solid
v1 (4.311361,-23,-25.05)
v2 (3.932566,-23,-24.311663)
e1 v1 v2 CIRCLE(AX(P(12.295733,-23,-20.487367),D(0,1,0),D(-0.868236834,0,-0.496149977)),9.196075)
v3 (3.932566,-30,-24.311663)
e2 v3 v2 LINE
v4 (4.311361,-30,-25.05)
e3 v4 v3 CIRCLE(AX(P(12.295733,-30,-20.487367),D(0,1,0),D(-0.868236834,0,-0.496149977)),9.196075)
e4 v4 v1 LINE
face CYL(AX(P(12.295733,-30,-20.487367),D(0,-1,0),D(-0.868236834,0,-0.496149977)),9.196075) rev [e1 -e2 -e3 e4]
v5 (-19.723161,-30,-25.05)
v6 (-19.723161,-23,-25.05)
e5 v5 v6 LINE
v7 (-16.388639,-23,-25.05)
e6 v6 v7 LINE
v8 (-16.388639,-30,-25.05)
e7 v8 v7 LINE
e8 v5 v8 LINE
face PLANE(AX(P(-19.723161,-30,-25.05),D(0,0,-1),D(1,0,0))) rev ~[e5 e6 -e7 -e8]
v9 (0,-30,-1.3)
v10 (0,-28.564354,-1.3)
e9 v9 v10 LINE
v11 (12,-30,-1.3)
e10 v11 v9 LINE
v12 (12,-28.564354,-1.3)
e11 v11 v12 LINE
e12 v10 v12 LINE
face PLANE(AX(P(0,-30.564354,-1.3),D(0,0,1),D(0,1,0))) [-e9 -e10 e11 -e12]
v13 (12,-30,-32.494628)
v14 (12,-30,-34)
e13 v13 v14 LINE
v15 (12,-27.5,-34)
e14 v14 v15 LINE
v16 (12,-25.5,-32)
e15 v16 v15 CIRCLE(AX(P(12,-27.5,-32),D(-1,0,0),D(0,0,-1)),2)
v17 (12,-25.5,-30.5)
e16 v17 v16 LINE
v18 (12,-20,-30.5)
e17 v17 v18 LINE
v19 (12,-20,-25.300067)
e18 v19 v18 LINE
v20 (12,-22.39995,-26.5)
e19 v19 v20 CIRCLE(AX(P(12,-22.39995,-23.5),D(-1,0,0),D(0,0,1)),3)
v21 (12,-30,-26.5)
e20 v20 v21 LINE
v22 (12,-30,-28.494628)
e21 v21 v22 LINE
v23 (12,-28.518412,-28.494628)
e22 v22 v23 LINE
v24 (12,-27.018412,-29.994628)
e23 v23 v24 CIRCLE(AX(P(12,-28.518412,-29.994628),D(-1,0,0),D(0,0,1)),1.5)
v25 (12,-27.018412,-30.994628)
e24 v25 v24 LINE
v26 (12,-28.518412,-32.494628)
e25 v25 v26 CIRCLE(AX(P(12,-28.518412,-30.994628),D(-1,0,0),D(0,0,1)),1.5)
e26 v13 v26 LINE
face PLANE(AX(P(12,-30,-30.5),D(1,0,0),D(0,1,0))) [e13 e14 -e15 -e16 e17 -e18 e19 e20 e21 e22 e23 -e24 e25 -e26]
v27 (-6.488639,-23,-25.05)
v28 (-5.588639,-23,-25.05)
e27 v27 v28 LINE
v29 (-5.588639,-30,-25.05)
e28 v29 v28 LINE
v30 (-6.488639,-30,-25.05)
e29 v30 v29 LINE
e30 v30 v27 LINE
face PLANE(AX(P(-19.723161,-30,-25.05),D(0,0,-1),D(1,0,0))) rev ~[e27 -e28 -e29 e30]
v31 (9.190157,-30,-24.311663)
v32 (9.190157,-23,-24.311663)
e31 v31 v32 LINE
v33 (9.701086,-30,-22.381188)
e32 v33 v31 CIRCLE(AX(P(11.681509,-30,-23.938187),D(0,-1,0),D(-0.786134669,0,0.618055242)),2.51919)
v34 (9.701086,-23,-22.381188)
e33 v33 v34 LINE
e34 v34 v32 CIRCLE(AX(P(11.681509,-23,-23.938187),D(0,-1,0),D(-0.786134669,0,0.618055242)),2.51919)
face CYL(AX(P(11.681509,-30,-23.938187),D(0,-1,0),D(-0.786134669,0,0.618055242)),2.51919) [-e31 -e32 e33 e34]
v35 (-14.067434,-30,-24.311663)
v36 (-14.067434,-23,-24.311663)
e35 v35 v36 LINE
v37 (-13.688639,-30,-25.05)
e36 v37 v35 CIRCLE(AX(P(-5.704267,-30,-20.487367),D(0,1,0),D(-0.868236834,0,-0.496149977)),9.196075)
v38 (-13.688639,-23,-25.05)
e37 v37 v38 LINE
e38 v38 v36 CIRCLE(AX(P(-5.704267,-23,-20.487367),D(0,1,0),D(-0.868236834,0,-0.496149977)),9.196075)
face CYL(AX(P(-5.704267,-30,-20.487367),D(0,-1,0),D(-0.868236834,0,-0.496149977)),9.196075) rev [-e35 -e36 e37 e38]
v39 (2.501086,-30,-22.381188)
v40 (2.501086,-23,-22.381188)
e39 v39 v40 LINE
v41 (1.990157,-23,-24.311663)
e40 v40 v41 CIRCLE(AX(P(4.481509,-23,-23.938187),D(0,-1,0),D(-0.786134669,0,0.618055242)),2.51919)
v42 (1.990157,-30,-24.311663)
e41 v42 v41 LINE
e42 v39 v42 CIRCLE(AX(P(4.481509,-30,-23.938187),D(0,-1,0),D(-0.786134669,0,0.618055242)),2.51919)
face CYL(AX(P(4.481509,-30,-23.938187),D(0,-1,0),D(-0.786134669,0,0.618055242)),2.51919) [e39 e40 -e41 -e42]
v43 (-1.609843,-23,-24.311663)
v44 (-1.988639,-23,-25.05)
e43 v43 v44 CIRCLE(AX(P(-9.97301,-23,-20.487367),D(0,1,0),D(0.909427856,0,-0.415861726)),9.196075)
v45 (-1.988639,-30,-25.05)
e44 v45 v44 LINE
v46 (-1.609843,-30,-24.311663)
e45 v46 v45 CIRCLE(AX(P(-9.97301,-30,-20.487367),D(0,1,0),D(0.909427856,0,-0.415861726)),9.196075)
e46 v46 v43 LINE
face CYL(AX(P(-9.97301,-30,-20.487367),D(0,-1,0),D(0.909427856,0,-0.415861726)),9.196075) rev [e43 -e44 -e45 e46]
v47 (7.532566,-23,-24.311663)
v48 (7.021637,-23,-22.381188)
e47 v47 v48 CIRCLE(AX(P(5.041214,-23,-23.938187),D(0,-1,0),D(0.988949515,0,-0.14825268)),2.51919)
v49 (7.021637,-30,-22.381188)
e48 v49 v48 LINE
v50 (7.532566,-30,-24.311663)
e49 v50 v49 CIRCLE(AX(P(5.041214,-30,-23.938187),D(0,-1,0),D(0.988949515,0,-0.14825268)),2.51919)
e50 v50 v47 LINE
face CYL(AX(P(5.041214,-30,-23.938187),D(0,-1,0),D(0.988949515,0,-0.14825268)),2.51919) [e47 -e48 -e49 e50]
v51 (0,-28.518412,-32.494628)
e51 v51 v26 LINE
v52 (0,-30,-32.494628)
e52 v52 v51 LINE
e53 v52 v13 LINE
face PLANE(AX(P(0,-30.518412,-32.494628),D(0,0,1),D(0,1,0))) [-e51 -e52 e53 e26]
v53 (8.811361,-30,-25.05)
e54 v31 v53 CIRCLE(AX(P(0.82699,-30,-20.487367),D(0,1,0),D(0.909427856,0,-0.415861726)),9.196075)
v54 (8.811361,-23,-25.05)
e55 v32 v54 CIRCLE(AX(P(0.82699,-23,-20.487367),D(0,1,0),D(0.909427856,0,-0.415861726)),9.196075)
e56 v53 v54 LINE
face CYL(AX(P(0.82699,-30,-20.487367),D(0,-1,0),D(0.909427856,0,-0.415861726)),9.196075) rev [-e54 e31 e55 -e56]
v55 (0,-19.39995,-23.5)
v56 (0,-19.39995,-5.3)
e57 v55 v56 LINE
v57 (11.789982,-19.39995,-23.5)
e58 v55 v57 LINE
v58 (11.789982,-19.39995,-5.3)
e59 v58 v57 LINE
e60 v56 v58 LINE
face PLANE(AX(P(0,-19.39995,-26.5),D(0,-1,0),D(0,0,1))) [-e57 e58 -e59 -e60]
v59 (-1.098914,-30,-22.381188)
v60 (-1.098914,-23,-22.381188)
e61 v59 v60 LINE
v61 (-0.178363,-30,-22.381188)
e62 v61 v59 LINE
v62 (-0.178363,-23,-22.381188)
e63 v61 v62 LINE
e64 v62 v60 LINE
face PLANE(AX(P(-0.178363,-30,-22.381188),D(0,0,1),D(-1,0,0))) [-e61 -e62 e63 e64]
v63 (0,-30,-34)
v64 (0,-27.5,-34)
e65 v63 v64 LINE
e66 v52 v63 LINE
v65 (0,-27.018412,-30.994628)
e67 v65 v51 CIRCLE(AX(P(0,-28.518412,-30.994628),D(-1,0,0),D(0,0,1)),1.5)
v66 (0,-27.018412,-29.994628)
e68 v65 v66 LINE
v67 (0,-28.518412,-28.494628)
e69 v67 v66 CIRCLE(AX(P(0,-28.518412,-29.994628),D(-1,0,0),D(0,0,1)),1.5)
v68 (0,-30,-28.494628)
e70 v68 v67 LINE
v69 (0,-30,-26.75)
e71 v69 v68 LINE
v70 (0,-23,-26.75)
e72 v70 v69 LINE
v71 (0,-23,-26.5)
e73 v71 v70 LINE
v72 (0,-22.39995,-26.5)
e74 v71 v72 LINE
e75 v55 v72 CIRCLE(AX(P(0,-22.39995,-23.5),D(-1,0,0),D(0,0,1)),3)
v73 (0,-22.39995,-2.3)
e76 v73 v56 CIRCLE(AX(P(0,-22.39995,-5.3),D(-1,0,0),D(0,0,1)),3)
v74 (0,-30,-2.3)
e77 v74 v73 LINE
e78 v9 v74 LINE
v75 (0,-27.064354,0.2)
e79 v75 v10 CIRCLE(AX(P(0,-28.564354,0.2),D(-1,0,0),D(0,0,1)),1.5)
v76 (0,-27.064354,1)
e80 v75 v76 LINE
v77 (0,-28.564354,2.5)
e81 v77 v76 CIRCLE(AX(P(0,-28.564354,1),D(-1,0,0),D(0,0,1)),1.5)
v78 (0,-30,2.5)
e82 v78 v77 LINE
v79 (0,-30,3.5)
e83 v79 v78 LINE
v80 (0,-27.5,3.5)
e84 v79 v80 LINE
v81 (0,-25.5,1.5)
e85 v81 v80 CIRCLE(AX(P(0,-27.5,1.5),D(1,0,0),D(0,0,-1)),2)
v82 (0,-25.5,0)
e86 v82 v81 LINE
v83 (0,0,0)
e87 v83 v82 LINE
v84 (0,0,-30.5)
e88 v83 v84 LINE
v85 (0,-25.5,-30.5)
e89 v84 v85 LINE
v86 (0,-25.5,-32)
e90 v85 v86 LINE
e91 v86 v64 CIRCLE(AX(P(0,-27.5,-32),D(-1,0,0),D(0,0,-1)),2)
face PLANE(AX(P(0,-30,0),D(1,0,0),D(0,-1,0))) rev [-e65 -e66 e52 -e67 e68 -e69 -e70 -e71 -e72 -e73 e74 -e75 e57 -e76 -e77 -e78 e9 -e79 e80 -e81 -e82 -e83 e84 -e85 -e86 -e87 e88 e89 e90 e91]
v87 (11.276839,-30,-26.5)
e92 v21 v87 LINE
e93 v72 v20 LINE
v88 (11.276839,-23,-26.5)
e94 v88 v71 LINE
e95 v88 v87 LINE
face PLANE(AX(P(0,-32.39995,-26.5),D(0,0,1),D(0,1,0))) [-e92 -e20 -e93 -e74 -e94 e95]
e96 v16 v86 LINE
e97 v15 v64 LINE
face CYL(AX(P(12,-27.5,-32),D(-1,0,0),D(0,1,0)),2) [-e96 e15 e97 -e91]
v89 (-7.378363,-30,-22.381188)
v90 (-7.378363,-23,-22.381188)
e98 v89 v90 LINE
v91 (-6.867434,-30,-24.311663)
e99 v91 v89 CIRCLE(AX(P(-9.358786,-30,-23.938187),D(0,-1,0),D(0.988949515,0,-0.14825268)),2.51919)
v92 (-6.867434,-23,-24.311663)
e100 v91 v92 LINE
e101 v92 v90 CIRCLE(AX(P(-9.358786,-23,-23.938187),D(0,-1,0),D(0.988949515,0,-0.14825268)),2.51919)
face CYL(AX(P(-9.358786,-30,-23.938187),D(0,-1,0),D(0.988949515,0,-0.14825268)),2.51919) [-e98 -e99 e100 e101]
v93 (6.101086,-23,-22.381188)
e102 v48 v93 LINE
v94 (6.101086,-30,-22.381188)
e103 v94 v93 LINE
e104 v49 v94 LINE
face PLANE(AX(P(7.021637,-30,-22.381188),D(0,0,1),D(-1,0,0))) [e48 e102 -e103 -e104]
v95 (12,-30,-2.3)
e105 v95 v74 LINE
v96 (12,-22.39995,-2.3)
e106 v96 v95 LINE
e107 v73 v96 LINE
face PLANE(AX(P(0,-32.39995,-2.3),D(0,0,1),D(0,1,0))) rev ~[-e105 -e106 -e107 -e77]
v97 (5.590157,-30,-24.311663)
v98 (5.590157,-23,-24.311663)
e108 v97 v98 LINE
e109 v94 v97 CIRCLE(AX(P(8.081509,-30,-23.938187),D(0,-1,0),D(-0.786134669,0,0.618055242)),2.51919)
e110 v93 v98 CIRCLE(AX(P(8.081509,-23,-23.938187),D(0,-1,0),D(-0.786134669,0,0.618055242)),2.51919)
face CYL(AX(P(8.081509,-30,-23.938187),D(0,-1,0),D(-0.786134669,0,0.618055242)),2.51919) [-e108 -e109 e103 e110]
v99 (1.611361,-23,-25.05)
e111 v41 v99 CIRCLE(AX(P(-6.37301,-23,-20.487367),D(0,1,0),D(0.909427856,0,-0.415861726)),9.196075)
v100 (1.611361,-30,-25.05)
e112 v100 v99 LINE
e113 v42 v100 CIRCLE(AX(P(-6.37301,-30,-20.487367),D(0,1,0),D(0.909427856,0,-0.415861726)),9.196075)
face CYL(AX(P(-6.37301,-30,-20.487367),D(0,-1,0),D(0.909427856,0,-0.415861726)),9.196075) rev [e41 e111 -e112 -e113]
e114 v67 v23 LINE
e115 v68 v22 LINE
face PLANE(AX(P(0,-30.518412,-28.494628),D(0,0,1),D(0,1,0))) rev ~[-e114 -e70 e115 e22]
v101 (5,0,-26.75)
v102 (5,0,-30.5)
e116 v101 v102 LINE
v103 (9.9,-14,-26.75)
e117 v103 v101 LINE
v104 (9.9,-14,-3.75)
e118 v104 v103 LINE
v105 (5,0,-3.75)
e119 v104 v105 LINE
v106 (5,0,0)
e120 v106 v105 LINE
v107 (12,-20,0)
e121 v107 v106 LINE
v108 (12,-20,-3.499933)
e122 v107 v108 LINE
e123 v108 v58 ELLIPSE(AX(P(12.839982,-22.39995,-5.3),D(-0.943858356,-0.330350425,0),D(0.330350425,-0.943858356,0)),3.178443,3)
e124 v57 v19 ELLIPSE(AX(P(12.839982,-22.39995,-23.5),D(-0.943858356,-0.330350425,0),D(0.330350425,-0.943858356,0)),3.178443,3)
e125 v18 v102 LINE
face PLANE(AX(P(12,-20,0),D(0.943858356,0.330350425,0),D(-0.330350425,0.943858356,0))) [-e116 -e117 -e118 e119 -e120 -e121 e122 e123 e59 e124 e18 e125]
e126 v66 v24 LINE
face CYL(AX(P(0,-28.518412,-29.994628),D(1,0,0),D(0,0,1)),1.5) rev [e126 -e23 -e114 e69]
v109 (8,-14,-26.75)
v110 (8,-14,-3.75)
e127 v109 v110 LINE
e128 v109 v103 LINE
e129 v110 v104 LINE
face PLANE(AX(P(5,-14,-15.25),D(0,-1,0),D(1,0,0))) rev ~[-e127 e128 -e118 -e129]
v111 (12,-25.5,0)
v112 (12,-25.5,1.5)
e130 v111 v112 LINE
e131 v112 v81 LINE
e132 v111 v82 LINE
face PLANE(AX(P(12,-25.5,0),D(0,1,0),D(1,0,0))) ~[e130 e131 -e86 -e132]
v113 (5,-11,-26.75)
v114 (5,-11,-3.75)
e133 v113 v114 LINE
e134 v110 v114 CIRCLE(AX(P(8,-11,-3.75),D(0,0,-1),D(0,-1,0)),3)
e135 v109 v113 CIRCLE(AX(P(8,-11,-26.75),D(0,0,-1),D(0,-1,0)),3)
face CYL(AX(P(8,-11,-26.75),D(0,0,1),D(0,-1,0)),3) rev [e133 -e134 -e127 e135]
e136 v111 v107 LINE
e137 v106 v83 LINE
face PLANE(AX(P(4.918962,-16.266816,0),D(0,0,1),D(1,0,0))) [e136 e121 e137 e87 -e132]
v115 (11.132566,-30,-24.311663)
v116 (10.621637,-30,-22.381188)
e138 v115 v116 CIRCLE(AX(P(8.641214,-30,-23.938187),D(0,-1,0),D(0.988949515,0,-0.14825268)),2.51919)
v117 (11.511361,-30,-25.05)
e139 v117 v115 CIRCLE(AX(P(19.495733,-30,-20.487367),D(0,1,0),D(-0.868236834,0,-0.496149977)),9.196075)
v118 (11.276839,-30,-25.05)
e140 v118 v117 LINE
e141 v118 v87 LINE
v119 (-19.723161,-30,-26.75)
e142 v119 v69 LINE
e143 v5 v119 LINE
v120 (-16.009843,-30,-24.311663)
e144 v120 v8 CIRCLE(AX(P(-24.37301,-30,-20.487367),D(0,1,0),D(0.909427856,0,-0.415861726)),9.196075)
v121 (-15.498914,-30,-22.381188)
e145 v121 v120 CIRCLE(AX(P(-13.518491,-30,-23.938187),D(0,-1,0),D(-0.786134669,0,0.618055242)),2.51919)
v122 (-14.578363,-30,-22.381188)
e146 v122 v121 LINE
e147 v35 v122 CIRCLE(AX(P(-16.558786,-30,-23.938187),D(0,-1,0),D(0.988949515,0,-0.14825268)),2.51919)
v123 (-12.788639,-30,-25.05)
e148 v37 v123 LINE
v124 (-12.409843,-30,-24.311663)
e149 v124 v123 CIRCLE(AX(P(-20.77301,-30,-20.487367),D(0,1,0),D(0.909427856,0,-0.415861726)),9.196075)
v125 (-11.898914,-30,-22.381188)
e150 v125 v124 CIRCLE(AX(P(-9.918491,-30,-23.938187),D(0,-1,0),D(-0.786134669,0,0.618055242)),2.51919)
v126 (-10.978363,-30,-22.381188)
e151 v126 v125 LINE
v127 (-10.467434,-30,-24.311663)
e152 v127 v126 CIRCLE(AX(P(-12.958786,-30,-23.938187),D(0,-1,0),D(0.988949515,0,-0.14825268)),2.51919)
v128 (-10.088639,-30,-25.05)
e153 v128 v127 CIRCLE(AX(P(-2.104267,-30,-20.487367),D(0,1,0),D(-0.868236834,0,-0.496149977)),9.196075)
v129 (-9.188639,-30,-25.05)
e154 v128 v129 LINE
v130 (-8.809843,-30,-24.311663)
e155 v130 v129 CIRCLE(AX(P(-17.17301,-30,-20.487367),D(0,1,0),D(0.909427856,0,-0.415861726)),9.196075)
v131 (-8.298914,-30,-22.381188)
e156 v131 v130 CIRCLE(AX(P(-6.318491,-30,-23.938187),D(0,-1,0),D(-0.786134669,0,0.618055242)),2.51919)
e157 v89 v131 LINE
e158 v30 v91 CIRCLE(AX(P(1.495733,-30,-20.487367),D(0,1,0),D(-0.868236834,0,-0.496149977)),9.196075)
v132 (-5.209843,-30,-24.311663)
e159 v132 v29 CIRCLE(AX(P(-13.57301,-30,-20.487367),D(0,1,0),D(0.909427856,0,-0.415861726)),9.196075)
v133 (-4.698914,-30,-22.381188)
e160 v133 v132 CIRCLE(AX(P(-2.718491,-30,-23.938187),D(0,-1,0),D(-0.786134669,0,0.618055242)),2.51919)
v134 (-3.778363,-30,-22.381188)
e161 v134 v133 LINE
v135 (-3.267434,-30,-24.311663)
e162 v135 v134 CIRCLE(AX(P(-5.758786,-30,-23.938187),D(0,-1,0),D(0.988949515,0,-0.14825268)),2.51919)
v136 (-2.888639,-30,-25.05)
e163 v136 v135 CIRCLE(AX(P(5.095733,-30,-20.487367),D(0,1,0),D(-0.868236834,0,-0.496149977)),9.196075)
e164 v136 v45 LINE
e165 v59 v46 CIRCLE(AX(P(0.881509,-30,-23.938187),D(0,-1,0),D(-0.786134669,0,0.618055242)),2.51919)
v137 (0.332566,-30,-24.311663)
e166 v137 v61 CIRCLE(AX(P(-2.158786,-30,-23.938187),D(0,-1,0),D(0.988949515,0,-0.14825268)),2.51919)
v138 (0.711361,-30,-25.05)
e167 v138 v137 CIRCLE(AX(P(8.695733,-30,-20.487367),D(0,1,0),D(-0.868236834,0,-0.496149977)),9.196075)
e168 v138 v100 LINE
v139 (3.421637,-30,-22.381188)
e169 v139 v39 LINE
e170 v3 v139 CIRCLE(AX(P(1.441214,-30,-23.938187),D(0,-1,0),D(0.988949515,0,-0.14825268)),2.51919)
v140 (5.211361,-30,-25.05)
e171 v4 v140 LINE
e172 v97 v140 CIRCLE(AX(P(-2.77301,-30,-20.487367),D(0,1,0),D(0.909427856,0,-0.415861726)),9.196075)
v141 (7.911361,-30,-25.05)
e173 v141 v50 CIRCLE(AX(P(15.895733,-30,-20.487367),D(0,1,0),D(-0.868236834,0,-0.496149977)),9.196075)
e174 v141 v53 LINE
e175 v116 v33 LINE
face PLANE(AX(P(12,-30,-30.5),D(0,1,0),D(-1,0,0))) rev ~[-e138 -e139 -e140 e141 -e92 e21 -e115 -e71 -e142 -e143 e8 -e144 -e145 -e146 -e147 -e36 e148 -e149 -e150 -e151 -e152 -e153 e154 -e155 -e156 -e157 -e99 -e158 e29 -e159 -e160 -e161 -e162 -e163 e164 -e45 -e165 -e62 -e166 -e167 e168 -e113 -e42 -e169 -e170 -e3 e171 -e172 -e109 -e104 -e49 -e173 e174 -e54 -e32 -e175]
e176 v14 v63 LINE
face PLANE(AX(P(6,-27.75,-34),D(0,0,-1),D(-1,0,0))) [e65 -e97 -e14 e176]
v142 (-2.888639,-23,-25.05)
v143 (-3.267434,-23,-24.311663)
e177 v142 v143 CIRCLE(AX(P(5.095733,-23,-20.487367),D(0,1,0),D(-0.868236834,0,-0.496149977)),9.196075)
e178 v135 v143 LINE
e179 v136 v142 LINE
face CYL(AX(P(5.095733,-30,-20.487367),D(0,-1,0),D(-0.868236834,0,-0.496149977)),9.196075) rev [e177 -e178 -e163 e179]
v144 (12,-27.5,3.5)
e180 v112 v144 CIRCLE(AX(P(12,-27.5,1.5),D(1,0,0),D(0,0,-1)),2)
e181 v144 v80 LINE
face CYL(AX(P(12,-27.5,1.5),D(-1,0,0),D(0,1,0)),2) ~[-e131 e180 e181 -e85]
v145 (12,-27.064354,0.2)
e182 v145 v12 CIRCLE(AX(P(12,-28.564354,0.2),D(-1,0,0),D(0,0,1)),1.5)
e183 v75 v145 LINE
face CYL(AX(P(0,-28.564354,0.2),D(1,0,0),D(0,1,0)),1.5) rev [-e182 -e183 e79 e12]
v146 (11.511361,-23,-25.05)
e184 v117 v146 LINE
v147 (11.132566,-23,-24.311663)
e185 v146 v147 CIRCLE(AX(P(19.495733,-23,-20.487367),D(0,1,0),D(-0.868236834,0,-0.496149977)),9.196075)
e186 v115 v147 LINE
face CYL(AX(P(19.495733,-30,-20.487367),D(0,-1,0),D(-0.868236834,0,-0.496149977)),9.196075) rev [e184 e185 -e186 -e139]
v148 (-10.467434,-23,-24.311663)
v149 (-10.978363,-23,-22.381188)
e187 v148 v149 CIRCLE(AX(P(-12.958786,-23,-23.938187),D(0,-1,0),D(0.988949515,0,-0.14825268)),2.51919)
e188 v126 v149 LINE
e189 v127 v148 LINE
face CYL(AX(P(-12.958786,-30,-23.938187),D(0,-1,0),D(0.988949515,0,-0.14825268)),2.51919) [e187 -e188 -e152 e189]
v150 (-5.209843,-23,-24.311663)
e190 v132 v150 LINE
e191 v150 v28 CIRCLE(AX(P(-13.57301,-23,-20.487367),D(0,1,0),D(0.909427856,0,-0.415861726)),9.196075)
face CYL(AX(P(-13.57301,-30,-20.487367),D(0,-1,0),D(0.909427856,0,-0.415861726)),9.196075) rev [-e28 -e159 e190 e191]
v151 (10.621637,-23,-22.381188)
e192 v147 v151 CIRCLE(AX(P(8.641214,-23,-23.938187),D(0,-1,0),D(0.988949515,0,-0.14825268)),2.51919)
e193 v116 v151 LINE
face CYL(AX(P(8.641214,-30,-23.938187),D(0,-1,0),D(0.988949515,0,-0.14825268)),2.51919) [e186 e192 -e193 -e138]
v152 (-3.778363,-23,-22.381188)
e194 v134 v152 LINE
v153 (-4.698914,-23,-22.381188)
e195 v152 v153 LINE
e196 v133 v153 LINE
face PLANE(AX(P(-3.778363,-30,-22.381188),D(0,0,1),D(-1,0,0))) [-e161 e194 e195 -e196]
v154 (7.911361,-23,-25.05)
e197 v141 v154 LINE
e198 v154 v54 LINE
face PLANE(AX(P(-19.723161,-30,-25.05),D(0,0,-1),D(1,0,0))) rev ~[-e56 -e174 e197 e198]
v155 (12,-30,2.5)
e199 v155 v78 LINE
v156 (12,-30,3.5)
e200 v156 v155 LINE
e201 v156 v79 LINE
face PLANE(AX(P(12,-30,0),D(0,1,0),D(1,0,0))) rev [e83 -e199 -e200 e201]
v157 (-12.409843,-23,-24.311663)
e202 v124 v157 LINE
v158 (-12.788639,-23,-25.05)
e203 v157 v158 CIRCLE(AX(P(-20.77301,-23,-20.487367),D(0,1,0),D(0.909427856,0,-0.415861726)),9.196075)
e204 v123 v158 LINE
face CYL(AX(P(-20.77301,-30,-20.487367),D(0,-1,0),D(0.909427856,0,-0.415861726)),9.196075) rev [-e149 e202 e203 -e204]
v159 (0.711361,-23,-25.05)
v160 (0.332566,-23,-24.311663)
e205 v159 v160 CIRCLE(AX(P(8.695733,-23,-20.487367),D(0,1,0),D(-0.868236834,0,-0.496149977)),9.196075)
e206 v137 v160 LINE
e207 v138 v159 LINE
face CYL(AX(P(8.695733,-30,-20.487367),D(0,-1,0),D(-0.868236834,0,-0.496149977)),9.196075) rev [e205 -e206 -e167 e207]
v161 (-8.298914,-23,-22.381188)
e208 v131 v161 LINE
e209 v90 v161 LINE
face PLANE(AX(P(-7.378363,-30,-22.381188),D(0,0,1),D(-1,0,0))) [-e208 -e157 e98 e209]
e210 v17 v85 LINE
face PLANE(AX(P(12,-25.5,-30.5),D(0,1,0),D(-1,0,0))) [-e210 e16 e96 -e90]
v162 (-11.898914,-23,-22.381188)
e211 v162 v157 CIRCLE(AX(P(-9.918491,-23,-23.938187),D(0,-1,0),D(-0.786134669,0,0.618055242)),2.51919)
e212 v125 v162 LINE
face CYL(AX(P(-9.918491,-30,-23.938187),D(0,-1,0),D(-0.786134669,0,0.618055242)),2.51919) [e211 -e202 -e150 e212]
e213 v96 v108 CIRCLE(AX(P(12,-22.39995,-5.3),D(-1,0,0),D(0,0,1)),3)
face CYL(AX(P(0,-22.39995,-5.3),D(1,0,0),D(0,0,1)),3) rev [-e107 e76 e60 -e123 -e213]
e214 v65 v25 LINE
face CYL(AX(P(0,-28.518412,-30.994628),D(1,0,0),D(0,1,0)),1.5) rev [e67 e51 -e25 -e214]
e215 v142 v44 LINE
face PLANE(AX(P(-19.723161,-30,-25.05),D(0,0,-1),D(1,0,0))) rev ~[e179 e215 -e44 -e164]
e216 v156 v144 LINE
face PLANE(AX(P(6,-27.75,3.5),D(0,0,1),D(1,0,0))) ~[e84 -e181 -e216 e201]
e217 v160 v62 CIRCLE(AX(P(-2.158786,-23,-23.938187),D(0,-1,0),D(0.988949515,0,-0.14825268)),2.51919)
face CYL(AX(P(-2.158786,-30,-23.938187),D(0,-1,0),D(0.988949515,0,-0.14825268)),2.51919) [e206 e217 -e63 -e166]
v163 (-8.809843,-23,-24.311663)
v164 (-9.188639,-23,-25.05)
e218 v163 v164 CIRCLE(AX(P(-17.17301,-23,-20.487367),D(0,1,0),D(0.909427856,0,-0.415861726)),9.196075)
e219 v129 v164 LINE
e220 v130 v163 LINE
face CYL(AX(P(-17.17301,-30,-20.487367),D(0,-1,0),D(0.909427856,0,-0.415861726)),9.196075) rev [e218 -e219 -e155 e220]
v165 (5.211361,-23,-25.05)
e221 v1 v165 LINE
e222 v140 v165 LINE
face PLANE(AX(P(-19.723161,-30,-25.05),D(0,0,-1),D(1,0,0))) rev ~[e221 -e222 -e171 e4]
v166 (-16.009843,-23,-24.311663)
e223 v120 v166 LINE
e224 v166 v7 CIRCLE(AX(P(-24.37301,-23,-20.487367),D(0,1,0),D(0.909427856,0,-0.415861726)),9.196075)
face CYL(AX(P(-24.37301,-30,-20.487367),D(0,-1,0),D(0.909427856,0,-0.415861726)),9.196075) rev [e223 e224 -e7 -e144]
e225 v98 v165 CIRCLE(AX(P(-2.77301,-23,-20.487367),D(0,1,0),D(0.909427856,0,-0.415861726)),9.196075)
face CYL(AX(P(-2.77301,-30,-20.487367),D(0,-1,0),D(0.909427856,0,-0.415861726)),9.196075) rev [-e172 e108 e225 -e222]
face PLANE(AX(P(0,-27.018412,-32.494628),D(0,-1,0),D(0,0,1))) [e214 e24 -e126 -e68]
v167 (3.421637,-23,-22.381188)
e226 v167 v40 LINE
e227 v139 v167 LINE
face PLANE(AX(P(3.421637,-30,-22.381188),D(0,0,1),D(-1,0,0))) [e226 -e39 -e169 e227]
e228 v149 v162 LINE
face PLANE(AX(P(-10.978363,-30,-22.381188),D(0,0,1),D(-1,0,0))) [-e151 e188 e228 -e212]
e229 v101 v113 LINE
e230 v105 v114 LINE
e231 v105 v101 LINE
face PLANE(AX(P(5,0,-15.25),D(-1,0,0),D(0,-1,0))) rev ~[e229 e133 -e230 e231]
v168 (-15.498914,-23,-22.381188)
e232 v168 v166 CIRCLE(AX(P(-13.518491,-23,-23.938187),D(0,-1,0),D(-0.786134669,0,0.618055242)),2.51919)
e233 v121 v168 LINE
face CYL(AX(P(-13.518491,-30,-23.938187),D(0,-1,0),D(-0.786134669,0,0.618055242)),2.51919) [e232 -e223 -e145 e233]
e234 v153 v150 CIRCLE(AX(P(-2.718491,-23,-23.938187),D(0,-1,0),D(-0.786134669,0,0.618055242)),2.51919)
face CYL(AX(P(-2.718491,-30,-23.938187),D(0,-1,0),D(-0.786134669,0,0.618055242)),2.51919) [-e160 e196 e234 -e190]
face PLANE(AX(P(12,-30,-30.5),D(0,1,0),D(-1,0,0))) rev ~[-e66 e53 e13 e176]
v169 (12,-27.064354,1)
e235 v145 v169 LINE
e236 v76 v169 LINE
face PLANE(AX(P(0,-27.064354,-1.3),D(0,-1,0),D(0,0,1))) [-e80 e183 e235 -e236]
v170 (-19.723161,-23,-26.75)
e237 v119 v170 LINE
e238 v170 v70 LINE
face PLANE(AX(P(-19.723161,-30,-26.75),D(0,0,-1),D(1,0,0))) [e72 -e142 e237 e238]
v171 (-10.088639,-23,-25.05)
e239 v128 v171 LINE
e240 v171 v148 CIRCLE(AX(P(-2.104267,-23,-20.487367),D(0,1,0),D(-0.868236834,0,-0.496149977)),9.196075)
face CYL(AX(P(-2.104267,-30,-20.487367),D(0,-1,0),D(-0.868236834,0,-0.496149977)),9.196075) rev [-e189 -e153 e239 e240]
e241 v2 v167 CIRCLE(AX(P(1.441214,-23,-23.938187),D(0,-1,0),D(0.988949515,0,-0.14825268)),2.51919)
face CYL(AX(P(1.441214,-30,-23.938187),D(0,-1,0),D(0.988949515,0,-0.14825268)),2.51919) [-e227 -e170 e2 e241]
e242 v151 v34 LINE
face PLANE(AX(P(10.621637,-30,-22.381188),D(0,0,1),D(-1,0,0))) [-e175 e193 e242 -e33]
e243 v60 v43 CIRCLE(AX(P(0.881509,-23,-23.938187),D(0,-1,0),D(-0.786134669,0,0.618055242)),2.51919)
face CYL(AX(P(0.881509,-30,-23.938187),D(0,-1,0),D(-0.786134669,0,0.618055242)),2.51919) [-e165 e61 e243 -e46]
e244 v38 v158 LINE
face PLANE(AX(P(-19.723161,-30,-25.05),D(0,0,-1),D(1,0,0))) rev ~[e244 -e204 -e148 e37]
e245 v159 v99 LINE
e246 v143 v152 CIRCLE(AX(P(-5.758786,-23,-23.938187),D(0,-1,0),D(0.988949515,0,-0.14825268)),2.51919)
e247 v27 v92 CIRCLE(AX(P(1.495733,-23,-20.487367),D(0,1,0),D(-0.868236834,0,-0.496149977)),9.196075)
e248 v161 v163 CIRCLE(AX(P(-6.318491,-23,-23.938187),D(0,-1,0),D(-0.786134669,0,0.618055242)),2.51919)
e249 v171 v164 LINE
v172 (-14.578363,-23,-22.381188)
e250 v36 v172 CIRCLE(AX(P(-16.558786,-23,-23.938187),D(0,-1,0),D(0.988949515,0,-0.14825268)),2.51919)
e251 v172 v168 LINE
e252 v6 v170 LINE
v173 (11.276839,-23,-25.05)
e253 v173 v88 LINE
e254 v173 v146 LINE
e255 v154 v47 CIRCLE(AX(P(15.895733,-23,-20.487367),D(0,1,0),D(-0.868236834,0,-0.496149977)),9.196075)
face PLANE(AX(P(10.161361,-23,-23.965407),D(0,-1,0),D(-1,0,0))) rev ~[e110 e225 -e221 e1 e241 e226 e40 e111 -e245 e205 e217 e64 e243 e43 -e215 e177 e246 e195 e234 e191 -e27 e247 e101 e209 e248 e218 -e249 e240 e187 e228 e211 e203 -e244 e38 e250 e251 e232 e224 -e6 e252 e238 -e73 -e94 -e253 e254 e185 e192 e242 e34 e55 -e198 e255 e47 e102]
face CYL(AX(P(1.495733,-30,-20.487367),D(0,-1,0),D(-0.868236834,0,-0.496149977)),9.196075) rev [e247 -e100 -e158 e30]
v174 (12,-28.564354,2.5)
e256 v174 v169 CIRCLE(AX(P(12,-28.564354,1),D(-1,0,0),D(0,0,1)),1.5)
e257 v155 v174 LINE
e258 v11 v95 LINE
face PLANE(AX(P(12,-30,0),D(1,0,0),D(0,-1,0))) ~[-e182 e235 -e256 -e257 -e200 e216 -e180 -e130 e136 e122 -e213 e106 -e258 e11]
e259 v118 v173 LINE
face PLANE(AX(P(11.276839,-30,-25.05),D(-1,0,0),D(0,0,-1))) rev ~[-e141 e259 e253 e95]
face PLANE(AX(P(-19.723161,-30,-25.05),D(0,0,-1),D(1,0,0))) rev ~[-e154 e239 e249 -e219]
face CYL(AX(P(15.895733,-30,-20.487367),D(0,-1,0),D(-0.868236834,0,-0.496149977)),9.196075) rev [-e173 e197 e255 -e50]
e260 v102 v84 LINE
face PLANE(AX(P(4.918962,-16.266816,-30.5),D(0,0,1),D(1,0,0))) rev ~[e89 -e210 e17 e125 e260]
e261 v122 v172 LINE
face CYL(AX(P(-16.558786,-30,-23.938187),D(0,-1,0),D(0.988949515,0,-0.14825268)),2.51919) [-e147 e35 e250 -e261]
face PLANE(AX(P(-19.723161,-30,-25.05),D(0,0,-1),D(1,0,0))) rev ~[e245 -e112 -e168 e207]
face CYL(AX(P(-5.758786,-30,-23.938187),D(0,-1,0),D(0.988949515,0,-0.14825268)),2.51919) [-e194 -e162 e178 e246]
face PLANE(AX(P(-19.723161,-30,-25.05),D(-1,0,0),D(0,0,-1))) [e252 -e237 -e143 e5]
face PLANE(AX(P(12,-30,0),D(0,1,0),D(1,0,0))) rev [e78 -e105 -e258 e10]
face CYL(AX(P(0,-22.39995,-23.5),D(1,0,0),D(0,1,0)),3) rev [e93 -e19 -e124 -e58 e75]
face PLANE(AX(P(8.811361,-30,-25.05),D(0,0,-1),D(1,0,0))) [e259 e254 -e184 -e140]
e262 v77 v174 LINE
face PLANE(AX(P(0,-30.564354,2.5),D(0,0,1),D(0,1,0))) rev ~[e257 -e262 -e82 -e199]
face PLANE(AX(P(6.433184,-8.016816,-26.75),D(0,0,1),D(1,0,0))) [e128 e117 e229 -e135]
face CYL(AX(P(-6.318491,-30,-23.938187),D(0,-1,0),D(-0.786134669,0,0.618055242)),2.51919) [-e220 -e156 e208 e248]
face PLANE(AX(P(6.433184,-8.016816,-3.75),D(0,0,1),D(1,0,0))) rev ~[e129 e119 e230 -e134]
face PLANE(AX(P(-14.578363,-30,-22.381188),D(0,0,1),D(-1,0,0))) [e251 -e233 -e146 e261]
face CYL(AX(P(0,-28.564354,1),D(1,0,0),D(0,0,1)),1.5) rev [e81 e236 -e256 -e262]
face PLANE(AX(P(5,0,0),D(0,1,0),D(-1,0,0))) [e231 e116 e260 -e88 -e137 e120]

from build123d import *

# Parameters (mm, degrees)
BOSS_EXTRUDE1_DEPTH = 30.5
SKETCH4_W           = 24.2
SKETCH4_H           = 13
CUT_EXTRUDE2_DEPTH  = 25
CUT_EXTRUDE4_DEPTH  = 11.5
SKETCH7_W           = 31
SKETCH7_H           = 1.7
BOSS_EXTRUDE3_DEPTH = 7
BOSS_EXTRUDE4_DEPTH = 7
LPATTERN1_COUNT     = 8
LPATTERN1_PITCH     = 3.6
SKETCH11_W          = 12
SKETCH11_H          = 4.5
BOSS_EXTRUDE5_DEPTH = 3.5
FILLET1_R           = 2
FILLET2_R           = 2
FILLET5_R           = 3
SKETCH12_W          = 4
SKETCH12_H          = 3.5
SKETCH12_W_2        = 3.8
CUT_EXTRUDE5_DEPTH  = 12
FILLET6_R           = 1.5


with BuildPart() as part:
    # Sketch1 → Boss-Extrude1 (new body)
    with BuildSketch(Plane.XY):
        Polygon((0, 0), (0, -30), (12, -30), (12, -20), (5, 0), align=None)
    extrude(amount=-BOSS_EXTRUDE1_DEPTH)

    # Sketch4 → Cut-Extrude2 (cut)
    with BuildSketch(Plane.ZY):
        with Locations((-14.4, -25.899949695)):
            Rectangle(SKETCH4_W, SKETCH4_H)
    extrude(amount=-CUT_EXTRUDE2_DEPTH, mode=Mode.SUBTRACT)

    # Sketch6 → Cut-Extrude4 (cut, symmetric)
    with BuildSketch(Plane.XY.offset(-15.25)):
        Polygon((5, 0), (5, -14), (9.9, -14), align=None)
    extrude(amount=CUT_EXTRUDE4_DEPTH, both=True, mode=Mode.SUBTRACT)

    # Sketch7 → Boss-Extrude3 (add)
    with BuildSketch(Plane(origin=(0, -30, 0), x_dir=(1, 0, 0), z_dir=(0, 1, 0))):
        with Locations((-4.2231607, 25.9)):
            Rectangle(SKETCH7_W, SKETCH7_H)
    extrude(amount=BOSS_EXTRUDE3_DEPTH)

    # Sketch10 → Boss-Extrude4 (add)
    with BuildSketch(Plane(origin=(0, -30, 0), x_dir=(1, 0, 0), z_dir=(0, 1, 0))):
        with BuildLine():
            Line((10.621636646, 22.381188189), (9.701086249, 22.381188189))
            ThreePointArc((9.701086249, 22.381188189), (9.246170102, 23.293637842), (9.190157183, 24.311663197))
            ThreePointArc((9.190157183, 24.311663197), (9.009091816, 24.685106498), (8.811361447, 25.05))
            Line((8.811361447, 25.05), (11.511361447, 25.05))
            ThreePointArc((11.511361447, 25.05), (11.313631078, 24.685106498), (11.132565711, 24.311663197))
            ThreePointArc((11.132565711, 24.311663197), (11.076552792, 23.293637842), (10.621636646, 22.381188189))
        make_face()
    boss_extrude4 = extrude(amount=BOSS_EXTRUDE4_DEPTH)

    # LPattern1: Boss-Extrude4 ×8
    with Locations(*[(-i * LPATTERN1_PITCH, 0, 0) for i in range(1, LPATTERN1_COUNT)]):
        add(boss_extrude4)

    # Sketch11 → Boss-Extrude5 (add)
    with BuildSketch(Plane(origin=(0, 0, -30.5), x_dir=(-1, 0, 0), z_dir=(0, 0, -1))):
        with Locations((-6, -27.75)):
            Rectangle(SKETCH11_W, SKETCH11_H)
    boss_extrude5 = extrude(amount=BOSS_EXTRUDE5_DEPTH)

    # Fillet1
    fillet1_edges = [part.edges().sort_by_distance(p)[0] for p in [
        (6, -25.5, -34),
    ]]
    fillet(fillet1_edges, radius=FILLET1_R)

    # Mirror1: Boss-Extrude5 across plane
    add(boss_extrude5.mirror(Plane.XY.offset(-15.25)))

    # Fillet2
    fillet2_edges = [part.edges().sort_by_distance(p)[0] for p in [
        (6, -25.5, 3.5),
    ]]
    fillet(fillet2_edges, radius=FILLET2_R)

    # Fillet5
    fillet5_edges = [part.edges().sort_by_distance(p)[0] for p in [
        (5, -14, -15.25),
        (5.894991197, -19.399949695, -2.3),
        (5.894991197, -19.399949695, -26.5),
    ]]
    fillet(fillet5_edges, radius=FILLET5_R)

    # Sketch12 → Cut-Extrude5 (cut)
    with BuildSketch(Plane.ZY):
        with Locations((-30.494628275, -28.768411502)):
            Rectangle(SKETCH12_W, SKETCH12_H)
        with Locations((0.6, -28.814354386)):
            Rectangle(SKETCH12_W_2, SKETCH12_H)
    extrude(amount=-CUT_EXTRUDE5_DEPTH, mode=Mode.SUBTRACT)

    # Fillet6
    fillet6_edges = [part.edges().sort_by_distance(p)[0] for p in [
        (6, -27.018411502, -28.494628275),
        (6, -27.018411502, -32.494628275),
        (6, -27.064354386, -1.3),
        (6, -27.064354386, 2.5),
    ]]
    fillet(fillet6_edges, radius=FILLET6_R)


solid = part.part
